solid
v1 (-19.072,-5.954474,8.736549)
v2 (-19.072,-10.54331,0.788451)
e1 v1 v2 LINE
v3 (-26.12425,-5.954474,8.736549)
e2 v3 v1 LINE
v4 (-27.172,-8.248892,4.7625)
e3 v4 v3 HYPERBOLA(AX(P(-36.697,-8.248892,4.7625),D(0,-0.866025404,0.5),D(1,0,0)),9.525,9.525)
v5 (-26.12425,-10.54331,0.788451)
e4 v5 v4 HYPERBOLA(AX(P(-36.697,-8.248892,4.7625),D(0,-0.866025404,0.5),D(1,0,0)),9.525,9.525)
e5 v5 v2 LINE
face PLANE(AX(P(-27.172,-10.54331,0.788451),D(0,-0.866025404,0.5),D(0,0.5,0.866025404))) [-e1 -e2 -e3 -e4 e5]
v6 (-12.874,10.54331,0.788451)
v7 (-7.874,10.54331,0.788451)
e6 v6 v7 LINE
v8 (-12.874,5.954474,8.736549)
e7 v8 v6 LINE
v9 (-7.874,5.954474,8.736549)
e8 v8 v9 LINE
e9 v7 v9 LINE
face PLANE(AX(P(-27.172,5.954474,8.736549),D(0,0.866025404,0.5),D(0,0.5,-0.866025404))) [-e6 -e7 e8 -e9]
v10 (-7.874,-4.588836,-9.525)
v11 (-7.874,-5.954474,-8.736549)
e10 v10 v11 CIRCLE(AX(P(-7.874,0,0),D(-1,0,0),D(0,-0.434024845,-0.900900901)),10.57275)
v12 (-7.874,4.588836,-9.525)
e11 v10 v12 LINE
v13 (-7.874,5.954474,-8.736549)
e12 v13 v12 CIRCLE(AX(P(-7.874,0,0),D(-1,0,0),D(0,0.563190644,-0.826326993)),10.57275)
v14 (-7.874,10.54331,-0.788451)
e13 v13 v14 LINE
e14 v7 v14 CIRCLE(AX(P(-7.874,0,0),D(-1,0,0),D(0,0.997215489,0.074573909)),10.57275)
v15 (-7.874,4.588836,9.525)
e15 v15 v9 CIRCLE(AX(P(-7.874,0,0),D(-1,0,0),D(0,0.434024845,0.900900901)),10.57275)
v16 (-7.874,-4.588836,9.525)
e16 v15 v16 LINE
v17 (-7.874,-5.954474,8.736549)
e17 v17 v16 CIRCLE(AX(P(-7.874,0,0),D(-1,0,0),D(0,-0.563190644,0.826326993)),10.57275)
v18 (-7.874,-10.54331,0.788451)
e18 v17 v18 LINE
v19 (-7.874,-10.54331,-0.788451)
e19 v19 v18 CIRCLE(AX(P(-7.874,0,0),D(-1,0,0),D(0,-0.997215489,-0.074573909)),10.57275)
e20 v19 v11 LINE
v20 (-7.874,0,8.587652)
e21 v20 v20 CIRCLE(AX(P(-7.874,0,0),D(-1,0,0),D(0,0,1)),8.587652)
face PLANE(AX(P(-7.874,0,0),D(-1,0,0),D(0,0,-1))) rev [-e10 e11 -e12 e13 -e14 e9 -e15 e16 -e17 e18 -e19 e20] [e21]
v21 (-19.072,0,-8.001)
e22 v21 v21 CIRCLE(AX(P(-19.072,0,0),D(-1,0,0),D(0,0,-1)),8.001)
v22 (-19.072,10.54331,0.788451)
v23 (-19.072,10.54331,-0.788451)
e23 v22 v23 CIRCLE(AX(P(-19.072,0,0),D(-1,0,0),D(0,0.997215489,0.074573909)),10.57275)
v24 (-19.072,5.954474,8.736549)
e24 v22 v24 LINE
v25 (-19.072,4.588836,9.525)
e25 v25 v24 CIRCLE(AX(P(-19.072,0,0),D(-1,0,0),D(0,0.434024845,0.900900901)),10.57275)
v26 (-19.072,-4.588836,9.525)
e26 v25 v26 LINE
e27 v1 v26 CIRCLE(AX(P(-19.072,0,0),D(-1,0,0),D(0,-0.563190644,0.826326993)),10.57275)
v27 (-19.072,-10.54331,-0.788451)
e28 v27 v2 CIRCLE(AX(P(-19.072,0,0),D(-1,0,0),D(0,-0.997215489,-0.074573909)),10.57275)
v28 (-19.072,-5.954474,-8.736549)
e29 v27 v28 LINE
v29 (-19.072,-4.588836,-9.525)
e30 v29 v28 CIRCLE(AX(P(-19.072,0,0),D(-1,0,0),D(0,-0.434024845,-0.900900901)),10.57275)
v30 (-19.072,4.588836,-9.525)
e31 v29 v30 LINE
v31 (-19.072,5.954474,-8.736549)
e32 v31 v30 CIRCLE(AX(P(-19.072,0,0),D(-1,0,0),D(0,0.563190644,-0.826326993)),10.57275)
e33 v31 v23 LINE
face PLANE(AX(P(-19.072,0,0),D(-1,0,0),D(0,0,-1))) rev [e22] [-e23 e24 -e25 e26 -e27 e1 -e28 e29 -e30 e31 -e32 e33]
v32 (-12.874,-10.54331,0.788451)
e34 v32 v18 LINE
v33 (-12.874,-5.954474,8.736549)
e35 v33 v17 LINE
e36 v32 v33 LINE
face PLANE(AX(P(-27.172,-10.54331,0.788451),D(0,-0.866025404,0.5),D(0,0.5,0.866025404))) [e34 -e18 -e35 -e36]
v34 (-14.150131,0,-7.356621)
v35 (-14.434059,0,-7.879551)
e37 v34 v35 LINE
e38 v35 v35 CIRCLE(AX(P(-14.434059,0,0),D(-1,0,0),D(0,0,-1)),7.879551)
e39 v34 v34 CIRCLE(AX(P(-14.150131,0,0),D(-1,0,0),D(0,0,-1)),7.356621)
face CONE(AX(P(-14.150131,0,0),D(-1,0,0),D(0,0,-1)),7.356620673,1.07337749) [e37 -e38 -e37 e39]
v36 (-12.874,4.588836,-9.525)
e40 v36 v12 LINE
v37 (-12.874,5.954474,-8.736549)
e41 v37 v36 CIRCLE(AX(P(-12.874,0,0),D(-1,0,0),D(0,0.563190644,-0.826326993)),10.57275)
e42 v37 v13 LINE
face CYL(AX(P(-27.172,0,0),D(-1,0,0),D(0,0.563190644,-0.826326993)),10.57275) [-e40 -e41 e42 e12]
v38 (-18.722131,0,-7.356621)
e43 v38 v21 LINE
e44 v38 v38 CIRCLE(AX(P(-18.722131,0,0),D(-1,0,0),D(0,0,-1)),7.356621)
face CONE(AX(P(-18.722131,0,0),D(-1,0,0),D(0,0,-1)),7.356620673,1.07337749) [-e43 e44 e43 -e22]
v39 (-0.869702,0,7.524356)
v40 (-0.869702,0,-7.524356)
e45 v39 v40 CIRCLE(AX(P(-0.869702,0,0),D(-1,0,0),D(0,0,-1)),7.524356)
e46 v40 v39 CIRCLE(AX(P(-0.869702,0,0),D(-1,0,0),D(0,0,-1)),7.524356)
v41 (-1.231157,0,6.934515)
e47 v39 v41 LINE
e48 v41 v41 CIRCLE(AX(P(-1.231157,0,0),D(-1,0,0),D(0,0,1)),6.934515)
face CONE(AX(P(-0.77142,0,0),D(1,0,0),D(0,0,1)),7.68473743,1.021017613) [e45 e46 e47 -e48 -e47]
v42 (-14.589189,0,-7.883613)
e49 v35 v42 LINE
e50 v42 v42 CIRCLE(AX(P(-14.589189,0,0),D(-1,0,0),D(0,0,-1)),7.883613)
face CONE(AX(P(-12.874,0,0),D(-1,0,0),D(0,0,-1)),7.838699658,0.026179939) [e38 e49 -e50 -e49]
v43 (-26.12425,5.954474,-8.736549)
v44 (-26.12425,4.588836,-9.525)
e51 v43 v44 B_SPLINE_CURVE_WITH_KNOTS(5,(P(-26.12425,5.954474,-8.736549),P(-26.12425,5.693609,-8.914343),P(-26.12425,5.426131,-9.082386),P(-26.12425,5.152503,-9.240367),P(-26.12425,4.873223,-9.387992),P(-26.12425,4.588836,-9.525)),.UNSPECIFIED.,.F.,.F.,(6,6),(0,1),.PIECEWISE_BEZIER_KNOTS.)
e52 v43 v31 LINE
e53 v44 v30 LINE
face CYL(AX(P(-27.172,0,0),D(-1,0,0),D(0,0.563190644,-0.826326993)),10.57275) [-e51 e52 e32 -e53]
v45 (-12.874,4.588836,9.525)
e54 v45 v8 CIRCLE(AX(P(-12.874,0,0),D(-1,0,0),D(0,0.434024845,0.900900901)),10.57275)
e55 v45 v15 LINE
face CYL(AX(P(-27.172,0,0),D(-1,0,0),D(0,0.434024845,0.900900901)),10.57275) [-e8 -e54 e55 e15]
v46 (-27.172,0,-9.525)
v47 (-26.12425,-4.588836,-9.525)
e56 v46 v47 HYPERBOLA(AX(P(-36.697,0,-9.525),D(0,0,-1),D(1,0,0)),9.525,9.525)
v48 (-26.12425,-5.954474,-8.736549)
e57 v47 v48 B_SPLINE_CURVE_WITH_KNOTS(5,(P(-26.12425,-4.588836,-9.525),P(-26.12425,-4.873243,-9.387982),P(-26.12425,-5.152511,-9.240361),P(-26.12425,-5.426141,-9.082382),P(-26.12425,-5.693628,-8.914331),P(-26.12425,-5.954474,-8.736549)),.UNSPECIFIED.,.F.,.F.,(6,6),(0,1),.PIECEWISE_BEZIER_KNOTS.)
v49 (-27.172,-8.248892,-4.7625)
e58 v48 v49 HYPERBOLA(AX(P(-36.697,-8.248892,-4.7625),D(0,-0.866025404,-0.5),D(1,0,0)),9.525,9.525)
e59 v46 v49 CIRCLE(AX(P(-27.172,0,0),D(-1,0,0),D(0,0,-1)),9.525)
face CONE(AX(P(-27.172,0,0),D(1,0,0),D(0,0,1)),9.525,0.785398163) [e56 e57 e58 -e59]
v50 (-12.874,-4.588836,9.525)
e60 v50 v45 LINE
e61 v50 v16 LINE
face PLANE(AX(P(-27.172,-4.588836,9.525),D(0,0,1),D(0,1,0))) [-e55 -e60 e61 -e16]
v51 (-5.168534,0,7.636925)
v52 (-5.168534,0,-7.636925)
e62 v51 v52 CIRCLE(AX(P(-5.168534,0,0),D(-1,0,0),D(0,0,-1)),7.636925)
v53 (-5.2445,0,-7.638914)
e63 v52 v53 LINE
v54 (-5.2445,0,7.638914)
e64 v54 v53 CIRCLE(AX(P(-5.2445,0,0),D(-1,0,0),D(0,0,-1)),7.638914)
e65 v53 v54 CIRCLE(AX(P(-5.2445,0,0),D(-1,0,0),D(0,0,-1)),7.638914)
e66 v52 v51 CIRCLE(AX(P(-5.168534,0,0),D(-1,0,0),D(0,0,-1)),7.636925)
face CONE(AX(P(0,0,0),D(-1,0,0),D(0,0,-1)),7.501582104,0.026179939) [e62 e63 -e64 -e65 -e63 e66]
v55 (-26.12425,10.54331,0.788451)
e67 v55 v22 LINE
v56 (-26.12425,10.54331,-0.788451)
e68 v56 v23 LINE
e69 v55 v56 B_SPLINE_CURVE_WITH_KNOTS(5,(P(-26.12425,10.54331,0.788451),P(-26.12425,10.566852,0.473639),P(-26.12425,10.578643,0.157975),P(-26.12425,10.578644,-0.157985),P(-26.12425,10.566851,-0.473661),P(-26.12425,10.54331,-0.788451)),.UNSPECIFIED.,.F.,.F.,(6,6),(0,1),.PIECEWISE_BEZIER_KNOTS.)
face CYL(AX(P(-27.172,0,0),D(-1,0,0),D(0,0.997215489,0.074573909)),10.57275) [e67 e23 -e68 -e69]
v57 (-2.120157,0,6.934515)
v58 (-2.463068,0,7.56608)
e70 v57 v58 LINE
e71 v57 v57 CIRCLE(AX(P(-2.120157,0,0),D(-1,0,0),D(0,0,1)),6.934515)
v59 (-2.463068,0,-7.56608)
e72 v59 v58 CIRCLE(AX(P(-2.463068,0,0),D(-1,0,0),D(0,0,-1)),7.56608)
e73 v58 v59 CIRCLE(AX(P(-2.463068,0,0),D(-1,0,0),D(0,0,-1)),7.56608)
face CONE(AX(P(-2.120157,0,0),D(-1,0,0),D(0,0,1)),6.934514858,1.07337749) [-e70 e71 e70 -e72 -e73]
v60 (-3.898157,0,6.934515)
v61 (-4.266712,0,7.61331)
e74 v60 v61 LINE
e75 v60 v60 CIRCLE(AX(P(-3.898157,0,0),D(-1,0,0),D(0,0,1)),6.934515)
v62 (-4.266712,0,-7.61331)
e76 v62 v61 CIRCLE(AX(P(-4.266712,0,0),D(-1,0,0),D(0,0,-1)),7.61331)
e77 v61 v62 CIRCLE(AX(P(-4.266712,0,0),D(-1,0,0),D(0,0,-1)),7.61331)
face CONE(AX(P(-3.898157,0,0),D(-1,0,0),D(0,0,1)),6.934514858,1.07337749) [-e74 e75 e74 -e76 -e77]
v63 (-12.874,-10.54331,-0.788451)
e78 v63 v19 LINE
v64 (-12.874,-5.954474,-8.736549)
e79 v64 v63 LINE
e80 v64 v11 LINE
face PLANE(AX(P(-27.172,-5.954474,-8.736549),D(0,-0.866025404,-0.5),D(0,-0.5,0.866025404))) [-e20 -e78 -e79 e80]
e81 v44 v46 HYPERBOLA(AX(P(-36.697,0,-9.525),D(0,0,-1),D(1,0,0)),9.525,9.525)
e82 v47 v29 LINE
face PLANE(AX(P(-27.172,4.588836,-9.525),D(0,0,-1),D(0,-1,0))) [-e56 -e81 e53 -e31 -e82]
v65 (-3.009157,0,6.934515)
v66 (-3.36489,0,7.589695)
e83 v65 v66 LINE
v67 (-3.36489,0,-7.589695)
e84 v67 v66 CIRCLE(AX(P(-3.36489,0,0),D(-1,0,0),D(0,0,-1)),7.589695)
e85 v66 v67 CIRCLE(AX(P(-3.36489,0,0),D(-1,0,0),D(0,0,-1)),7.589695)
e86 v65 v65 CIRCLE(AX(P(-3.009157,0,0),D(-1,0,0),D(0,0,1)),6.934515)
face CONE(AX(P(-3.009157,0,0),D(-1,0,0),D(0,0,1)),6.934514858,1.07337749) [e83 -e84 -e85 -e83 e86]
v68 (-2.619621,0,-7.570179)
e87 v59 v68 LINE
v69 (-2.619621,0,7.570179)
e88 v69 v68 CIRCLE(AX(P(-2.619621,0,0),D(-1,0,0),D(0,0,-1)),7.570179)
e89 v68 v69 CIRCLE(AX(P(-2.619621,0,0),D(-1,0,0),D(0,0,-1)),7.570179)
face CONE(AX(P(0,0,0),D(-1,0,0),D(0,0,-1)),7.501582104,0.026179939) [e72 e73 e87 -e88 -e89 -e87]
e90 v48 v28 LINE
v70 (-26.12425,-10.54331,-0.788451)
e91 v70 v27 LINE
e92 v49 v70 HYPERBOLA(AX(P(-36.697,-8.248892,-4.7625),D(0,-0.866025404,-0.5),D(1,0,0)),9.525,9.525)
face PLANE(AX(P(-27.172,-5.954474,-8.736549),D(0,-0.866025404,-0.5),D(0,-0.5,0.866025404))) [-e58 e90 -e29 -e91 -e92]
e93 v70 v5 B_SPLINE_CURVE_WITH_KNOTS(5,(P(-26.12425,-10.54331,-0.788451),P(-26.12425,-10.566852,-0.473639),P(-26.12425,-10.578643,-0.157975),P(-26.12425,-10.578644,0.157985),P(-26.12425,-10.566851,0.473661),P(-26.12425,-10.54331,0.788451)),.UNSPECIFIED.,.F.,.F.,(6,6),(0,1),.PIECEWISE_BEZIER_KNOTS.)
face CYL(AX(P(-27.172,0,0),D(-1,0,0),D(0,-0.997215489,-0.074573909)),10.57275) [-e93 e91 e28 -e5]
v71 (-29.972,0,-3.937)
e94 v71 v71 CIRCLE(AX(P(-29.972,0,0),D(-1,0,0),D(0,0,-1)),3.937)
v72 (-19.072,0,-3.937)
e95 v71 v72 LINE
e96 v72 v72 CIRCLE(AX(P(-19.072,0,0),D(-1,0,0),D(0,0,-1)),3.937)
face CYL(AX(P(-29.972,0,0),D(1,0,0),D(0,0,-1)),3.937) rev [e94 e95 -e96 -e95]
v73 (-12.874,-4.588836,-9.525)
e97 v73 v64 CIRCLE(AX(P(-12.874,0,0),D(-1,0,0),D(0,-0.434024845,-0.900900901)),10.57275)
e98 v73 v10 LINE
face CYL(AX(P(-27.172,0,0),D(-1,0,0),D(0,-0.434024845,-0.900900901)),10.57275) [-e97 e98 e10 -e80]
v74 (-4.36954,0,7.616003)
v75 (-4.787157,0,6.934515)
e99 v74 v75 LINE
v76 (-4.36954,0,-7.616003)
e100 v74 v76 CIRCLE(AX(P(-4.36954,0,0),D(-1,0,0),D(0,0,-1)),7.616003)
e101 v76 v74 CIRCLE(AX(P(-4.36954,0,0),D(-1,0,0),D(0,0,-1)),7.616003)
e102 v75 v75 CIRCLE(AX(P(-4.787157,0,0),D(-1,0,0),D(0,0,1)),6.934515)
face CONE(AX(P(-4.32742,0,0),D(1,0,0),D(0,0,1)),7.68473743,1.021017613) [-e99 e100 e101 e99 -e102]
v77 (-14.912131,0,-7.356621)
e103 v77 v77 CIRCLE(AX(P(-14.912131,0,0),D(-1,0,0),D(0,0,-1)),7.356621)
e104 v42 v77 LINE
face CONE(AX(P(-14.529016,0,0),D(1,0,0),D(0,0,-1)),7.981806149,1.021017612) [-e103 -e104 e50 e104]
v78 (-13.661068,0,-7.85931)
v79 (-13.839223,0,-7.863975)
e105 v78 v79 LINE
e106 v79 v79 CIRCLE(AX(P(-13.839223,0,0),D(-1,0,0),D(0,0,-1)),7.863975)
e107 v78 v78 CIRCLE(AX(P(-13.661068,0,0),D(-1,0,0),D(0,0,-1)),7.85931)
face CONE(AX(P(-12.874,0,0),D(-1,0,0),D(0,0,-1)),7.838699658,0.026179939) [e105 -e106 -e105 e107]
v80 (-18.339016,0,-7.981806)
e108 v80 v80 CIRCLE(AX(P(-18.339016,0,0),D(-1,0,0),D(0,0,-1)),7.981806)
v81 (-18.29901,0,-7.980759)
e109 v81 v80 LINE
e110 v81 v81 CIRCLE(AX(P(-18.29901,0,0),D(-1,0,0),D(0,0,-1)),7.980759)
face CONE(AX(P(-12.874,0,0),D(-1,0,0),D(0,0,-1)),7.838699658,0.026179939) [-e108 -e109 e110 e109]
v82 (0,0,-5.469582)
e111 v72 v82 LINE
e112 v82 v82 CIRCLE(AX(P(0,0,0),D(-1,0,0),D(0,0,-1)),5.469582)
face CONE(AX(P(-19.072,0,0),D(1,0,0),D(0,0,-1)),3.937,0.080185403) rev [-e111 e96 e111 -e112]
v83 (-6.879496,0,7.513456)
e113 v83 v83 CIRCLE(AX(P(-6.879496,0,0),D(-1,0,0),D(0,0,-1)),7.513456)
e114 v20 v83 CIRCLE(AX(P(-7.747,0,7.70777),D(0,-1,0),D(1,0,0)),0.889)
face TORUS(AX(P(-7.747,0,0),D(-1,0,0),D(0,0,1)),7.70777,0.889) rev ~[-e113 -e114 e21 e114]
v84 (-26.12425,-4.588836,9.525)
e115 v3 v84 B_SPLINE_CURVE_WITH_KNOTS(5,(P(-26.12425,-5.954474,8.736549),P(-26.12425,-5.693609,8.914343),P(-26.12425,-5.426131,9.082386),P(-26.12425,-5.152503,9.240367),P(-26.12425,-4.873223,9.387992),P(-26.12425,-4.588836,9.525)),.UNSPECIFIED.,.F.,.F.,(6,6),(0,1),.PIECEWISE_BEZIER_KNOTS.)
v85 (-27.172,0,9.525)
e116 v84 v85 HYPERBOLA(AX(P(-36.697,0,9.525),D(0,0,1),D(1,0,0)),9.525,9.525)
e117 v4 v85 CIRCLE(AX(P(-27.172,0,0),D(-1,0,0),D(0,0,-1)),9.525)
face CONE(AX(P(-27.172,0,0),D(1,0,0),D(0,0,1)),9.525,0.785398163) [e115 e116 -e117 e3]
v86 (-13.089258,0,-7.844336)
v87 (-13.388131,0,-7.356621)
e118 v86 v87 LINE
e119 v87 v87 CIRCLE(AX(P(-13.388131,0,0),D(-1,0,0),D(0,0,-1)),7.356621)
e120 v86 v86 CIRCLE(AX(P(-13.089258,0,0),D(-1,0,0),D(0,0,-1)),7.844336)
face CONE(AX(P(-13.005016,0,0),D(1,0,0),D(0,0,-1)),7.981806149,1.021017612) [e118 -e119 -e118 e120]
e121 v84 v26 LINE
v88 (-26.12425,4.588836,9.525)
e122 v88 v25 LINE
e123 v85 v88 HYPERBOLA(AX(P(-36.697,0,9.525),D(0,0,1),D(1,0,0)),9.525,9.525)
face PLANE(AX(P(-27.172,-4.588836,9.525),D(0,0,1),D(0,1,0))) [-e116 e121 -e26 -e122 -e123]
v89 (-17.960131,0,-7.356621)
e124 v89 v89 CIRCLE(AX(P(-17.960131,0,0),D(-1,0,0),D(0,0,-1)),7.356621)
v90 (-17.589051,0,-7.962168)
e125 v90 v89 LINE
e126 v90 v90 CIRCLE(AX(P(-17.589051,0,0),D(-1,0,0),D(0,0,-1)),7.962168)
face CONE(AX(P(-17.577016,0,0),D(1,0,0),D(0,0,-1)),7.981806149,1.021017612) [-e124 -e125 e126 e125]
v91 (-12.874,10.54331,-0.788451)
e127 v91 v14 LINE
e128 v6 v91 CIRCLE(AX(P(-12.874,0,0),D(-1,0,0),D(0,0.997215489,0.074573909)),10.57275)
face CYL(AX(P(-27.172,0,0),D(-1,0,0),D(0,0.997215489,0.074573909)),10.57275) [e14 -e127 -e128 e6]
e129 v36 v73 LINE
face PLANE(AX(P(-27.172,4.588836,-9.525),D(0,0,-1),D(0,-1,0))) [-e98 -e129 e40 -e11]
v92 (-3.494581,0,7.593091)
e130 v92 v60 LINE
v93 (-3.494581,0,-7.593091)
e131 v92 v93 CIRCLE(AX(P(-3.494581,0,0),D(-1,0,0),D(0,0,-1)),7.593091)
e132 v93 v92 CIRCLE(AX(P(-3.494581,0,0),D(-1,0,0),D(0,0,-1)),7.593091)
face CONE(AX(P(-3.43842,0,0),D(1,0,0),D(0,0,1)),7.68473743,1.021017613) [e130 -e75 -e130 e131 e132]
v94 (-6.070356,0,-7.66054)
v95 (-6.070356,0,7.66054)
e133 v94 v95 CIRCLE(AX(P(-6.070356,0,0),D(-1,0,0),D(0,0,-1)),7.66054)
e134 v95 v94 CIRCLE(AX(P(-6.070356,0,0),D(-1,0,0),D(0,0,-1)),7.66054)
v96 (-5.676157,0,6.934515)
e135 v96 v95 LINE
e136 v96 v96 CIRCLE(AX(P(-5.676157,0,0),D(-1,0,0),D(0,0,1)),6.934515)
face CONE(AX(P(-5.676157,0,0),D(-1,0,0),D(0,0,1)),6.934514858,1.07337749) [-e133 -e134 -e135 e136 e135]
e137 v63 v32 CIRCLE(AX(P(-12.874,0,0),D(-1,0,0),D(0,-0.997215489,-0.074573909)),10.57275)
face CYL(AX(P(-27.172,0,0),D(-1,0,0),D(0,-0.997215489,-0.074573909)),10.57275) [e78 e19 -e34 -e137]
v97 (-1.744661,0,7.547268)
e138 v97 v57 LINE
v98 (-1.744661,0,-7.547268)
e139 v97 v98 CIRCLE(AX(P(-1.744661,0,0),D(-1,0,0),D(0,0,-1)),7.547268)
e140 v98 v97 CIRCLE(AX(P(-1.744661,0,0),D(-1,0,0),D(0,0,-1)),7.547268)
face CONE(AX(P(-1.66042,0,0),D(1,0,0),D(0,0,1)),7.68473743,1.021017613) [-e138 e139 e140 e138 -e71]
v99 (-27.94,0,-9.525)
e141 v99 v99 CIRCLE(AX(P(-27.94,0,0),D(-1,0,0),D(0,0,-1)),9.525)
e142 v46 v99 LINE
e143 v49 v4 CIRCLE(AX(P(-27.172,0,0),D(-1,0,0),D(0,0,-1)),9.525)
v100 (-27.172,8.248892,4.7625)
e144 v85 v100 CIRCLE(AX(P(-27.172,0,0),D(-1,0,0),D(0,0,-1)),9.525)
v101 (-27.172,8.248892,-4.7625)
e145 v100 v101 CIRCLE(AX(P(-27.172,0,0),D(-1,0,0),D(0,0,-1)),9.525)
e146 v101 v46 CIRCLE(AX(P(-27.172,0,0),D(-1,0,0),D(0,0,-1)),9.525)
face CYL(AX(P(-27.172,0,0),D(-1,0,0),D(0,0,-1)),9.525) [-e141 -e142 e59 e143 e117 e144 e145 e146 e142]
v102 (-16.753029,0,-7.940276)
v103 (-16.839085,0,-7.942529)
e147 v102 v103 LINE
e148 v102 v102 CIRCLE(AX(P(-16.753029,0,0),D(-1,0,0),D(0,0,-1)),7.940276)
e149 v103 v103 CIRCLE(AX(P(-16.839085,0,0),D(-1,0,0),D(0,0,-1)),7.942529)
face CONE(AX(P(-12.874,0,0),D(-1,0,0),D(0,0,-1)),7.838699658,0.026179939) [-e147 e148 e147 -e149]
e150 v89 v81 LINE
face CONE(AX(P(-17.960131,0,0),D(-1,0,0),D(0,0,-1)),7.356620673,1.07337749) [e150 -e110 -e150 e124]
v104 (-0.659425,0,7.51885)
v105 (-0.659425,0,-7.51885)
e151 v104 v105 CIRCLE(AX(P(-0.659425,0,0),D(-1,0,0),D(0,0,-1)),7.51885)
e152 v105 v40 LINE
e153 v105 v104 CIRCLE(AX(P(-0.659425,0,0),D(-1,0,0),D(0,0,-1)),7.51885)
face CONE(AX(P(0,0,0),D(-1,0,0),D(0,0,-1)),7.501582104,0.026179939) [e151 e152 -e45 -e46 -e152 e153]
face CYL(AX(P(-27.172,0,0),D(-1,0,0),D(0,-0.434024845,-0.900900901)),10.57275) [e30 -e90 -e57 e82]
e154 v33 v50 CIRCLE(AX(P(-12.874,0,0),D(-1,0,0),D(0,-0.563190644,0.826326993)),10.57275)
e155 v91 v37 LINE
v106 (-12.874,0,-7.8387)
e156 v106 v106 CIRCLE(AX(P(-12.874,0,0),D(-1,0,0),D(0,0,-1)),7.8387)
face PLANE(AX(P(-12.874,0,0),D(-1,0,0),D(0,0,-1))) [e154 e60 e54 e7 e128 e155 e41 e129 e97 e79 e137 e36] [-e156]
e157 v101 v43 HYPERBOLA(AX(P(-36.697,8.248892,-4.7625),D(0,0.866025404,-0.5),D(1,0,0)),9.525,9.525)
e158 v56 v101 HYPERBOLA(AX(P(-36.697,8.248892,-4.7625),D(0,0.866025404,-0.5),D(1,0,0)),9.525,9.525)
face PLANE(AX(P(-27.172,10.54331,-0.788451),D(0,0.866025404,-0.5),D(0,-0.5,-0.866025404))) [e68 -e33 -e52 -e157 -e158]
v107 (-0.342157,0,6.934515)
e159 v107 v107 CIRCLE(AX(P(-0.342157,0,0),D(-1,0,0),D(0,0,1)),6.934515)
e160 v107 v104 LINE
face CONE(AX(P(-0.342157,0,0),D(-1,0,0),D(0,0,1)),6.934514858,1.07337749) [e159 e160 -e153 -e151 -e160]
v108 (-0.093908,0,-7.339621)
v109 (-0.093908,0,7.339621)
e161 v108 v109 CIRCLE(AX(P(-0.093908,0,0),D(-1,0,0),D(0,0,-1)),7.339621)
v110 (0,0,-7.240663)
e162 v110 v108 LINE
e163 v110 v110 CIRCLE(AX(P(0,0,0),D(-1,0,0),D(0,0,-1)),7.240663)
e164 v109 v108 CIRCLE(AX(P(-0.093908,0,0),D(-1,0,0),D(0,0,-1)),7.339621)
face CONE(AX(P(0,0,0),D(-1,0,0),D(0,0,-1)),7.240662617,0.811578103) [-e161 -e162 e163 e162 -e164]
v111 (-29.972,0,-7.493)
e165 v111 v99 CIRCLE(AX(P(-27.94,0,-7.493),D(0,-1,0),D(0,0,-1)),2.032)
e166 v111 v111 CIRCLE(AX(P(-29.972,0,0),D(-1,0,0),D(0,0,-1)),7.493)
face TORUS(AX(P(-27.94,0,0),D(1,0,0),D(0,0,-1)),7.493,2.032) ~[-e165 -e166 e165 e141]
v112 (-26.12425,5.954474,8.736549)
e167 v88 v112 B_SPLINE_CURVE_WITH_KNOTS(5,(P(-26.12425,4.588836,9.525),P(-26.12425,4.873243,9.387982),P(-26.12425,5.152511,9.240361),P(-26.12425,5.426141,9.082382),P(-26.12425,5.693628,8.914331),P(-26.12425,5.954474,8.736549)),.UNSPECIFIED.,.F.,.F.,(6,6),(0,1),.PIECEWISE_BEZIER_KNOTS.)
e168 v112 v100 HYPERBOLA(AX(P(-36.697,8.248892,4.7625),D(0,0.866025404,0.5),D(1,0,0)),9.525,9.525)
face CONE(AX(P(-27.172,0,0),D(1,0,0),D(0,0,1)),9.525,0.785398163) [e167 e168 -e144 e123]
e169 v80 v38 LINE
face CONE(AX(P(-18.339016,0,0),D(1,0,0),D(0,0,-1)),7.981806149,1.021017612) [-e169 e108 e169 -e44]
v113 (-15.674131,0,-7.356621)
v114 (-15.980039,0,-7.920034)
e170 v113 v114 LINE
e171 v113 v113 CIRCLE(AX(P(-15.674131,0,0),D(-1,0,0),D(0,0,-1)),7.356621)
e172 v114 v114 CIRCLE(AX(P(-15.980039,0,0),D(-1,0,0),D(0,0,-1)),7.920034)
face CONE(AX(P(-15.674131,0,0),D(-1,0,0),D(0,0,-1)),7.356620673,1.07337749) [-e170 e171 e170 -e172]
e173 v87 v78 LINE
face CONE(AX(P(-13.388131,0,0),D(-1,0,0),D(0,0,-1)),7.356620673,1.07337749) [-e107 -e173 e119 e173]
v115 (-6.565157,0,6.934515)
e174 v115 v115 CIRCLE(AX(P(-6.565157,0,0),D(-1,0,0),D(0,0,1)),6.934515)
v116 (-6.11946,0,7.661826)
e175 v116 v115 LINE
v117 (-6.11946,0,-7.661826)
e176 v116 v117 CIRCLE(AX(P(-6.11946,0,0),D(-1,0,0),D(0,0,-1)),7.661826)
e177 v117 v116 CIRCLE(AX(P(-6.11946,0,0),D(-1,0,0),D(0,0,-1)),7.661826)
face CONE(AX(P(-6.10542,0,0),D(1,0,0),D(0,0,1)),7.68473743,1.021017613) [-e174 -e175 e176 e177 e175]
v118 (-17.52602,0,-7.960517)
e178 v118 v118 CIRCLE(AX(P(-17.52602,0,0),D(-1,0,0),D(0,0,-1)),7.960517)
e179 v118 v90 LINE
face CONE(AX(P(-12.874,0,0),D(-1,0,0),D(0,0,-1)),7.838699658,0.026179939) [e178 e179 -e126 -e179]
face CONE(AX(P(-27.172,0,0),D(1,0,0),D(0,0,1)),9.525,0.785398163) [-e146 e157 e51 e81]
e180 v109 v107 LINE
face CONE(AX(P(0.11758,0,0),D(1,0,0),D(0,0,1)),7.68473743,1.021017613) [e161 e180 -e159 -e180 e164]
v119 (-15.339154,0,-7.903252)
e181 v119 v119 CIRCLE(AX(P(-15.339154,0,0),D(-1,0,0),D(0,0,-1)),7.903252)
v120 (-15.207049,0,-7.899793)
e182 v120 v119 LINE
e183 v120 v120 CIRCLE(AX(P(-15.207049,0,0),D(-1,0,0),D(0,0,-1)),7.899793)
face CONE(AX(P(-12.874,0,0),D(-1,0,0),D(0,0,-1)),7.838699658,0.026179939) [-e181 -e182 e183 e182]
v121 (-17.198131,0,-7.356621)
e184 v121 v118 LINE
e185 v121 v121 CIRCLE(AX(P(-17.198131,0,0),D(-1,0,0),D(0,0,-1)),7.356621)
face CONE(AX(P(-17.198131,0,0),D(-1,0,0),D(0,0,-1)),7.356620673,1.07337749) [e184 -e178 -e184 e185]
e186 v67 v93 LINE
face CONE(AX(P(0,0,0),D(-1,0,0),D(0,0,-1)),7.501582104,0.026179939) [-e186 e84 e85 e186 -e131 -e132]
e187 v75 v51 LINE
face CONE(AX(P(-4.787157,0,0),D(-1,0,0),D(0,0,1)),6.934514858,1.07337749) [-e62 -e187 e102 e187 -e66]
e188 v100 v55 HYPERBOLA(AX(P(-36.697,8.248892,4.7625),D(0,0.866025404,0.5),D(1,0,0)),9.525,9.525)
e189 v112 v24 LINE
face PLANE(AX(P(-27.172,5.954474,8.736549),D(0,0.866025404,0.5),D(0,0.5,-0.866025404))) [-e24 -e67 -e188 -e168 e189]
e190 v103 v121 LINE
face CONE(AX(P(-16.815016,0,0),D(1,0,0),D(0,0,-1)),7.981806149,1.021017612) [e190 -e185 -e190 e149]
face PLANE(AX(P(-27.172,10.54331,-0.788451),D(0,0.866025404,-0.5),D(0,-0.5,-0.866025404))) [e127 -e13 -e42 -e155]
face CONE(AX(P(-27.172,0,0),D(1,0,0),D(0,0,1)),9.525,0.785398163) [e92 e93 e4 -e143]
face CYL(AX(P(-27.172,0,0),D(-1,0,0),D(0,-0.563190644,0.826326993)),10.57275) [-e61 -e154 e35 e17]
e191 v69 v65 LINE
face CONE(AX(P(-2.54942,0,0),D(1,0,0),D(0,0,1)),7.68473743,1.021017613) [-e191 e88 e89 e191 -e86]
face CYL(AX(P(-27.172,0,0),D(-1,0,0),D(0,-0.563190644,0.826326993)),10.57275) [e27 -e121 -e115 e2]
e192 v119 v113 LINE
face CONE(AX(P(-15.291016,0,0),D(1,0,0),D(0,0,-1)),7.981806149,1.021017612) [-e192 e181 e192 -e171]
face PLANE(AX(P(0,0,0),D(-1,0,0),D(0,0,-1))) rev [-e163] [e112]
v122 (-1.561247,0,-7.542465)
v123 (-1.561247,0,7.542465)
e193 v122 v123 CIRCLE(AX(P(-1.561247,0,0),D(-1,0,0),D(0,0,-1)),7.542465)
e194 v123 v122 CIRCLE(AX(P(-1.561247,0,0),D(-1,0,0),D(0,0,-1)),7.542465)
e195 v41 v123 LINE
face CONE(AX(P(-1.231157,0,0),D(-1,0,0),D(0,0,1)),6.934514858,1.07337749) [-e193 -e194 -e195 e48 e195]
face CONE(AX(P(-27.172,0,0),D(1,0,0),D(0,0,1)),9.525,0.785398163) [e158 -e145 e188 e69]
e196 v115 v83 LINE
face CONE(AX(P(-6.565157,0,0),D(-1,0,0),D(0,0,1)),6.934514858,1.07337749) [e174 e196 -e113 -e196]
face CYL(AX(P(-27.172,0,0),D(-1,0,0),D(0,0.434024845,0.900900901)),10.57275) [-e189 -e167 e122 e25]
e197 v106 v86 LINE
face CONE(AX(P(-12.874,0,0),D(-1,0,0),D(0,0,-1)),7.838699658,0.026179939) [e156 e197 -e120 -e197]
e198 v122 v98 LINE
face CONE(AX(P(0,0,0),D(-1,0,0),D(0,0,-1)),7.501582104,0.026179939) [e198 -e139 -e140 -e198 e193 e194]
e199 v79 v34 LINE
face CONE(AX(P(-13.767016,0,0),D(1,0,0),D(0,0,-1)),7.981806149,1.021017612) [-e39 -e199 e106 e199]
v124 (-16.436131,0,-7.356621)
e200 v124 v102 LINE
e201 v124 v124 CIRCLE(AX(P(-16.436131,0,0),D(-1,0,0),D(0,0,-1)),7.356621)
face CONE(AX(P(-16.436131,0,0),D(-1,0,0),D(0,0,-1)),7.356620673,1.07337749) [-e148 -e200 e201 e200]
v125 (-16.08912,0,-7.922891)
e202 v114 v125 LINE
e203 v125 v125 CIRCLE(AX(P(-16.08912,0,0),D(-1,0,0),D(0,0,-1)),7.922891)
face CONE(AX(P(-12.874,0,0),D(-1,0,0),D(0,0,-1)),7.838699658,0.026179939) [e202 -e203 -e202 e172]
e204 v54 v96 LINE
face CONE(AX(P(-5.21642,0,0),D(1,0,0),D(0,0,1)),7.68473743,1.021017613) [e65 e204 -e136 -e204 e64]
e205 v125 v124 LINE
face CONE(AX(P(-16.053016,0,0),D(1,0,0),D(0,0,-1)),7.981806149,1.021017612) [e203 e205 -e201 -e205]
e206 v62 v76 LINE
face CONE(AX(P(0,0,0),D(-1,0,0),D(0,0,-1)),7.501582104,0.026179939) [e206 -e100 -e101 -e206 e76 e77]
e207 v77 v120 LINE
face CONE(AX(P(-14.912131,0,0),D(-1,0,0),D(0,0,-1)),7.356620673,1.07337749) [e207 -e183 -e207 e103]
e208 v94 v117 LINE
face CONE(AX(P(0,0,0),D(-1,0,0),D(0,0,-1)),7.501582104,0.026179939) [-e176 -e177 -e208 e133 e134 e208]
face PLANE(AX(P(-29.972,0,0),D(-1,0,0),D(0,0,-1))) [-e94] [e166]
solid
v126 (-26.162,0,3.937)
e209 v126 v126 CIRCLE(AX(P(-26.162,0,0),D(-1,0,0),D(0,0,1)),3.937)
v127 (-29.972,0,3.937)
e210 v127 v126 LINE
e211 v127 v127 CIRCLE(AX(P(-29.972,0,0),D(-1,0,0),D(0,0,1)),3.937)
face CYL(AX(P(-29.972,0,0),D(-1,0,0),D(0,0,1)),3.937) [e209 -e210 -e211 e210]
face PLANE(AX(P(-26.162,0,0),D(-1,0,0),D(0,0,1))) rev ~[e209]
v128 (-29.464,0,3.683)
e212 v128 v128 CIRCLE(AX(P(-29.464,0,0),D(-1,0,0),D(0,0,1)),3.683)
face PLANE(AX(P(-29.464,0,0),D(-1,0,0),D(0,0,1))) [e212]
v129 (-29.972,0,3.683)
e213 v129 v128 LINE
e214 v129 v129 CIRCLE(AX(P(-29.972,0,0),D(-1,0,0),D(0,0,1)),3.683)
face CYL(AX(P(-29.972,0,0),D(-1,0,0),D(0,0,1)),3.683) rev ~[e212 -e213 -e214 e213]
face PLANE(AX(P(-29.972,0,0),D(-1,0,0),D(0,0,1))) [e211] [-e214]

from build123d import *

# Parameters (mm, degrees)
SKETCH12_OUTSIDE_W = 52.432
SKETCH12_OUTSIDE_H = 52.432
CUT_EXTRUDE2_DEPTH = 28.172
FILLET4_R          = 2.032
SKETCH19_OUTSIDE_W = 33.316
SKETCH19_OUTSIDE_H = 35.412
SKETCH19_OUTSIDE_R = 9.525
CUT_EXTRUDE3_DEPTH = 1.999996
CUT_EXTRUDE3_DRAFT = -45
CHAMFER1_SIZE      = 0.260919487
CHAMFER1_SIZE2     = 0.254
SKETCH21_R         = 3.937
PLUG_DEPTH         = 3.81
SKETCH22_R         = 3.683
CUT_EXTRUDE4_DEPTH = 0.508
LPATTERN1_COUNT    = 8
LPATTERN1_PITCH    = 0.762
LPATTERN2_COUNT    = 9
LPATTERN2_PITCH    = 0.889
SKETCH32_R         = 0.889


with BuildPart() as part:
    # Sketch10 → Revolve2 (revolve)
    with BuildSketch(Plane.XY, mode=Mode.PRIVATE) as revolve2_sk:
        Polygon((-29.972, 3.937), (-19.072, 3.937), (0, 5.469582104), (0, 7.501582104), (-7.874, 7.70777005), (-7.874, 19.05), (-12.874, 19.05), (-12.874, 7.838699658), (-19.072, 8.001), (-19.072, 19.05), (-27.172, 19.05), (-27.172, 9.525), (-29.972, 9.525), align=None)
    revolve(revolve2_sk.sketch.rotate(Axis((0, 0, 0), (-1, 0, 0)), 90), axis=Axis((0, 0, 0), (-1, 0, 0)))  # turned: the seam where the file's is

    # Sketch12 outside → Cut-Extrude2 (cut, through all)
    with BuildSketch(Plane.ZY.offset(27.172)):
        Rectangle(SKETCH12_OUTSIDE_W, SKETCH12_OUTSIDE_H)
        with BuildLine():
            Line((-0.788451287, 10.543310065), (-8.736548713, 5.954473877))
            ThreePointArc((-8.736548713, 5.954473877), (-9.156270088, 5.286375), (-9.525, 4.588836188))
            Line((-9.525, 4.588836188), (-9.525, -4.588836188))
            ThreePointArc((-9.525, -4.588836188), (-9.156270088, -5.286375), (-8.736548713, -5.954473877))
            Line((-8.736548713, -5.954473877), (-0.788451287, -10.543310065))
            ThreePointArc((-0.788451287, -10.543310065), (0, -10.57275), (0.788451287, -10.543310065))
            Line((0.788451287, -10.543310065), (8.736548713, -5.954473877))
            ThreePointArc((8.736548713, -5.954473877), (9.156270088, -5.286375), (9.525, -4.588836188))
            Line((9.525, -4.588836188), (9.525, 4.588836188))
            ThreePointArc((9.525, 4.588836188), (9.156270088, 5.286375), (8.736548713, 5.954473877))
            Line((8.736548713, 5.954473877), (0.788451287, 10.543310065))
            ThreePointArc((0.788451287, 10.543310065), (0, 10.57275), (-0.788451287, 10.543310065))
        make_face(mode=Mode.SUBTRACT)
    extrude(amount=-CUT_EXTRUDE2_DEPTH, mode=Mode.SUBTRACT)

    # Fillet4
    fillet4_edges = [part.edges().sort_by_distance(p)[0] for p in [
        (-29.972, 0, 9.525),
    ]]
    fillet(fillet4_edges, radius=FILLET4_R)


with BuildPart() as cut_extrude3_tool:
    # Sketch19 outside → Cut-Extrude3 (with draft: the straight prism first)
    with BuildSketch(Plane.ZY.offset(27.172)):
        Rectangle(SKETCH19_OUTSIDE_W, SKETCH19_OUTSIDE_H)
        Circle(SKETCH19_OUTSIDE_R, mode=Mode.SUBTRACT)
    extrude(amount=-CUT_EXTRUDE3_DEPTH)
    # Cut-Extrude3: the draft: its side faces are tilted about the plane it starts from
    cut_extrude3_sides = [cut_extrude3_tool.faces().sort_by_distance(p)[0] for p in [
        (-26.172002, -17.706, 0),
        (-26.172002, 0, 16.658),
        (-26.172002, 17.706, 0),
        (-26.172002, 0, -16.658),
        (-26.172002, 0, -9.525),
    ]]
    draft(cut_extrude3_sides, Plane.ZY.offset(27.172), CUT_EXTRUDE3_DRAFT)


with BuildPart() as part_1:
    add(part.part)

    # Cut-Extrude3: cut by cut_extrude3_tool
    add(cut_extrude3_tool.part, mode=Mode.SUBTRACT)

    # Chamfer1
    chamfer1_edges = [part_1.edges().sort_by_distance(p)[0] for p in [
        (0, 0, 7.501582104),
    ]]
    chamfer1_side = [part_1.faces().sort_by_distance(p)[0] for p in [
        (0, 0, 5.681758887),
    ]]
    chamfer(chamfer1_edges, length=CHAMFER1_SIZE, length2=CHAMFER1_SIZE2, reference=chamfer1_side[0])

    # Sketch29 → Cut-Revolve1 (revolve, cut)
    with BuildSketch(Plane.XY, mode=Mode.PRIVATE) as cut_revolve1_sk:
        Polygon((-19.072, 8.001), (-18.339016419, 7.981806149), (-18.722130572, 7.356620673), align=None)
    cut_revolve1 = revolve(cut_revolve1_sk.sketch.rotate(Axis((0, 0, 0), (-1, 0, 0)), 90), axis=Axis((0, 0, 0), (-1, 0, 0)), mode=Mode.SUBTRACT)  # turned: the seam where the file's is

    # LPattern1: Cut-Revolve1 ×8
    with Locations(*[(i * LPATTERN1_PITCH, 0, 0) for i in range(1, LPATTERN1_COUNT)]):
        add(cut_revolve1, mode=Mode.SUBTRACT)

    # Sketch30 → Cut-Revolve2 (revolve, cut)
    with BuildSketch(Plane.XY, mode=Mode.PRIVATE) as cut_revolve2_sk:
        Polygon((-7.874, 7.70777005), (-6.994419703, 7.68473743), (-7.454156686, 6.934514858), align=None)
    cut_revolve2 = revolve(cut_revolve2_sk.sketch.rotate(Axis((0, 0, 0), (-1, 0, 0)), 270), axis=Axis((0, 0, 0), (-1, 0, 0)), mode=Mode.SUBTRACT)  # turned: the seam where the file's is

    # LPattern2: Cut-Revolve2 ×9
    with Locations(*[(i * LPATTERN2_PITCH, 0, 0) for i in range(1, LPATTERN2_COUNT)]):
        add(cut_revolve2, mode=Mode.SUBTRACT)

    # Sketch32 → Cut-Revolve3 (revolve, cut)
    with BuildSketch(Plane.XY, mode=Mode.PRIVATE) as cut_revolve3_sk:
        with Locations((-7.747, 7.70777005)):
            Circle(SKETCH32_R)
    revolve(cut_revolve3_sk.sketch.rotate(Axis((0, 0, 0), (-1, 0, 0)), 270), axis=Axis((0, 0, 0), (-1, 0, 0)), mode=Mode.SUBTRACT)  # turned: the seam where the file's is


with BuildPart() as body_2:
    # Sketch21 → plug (new body)
    with BuildSketch(Plane.ZY.offset(29.972)):
        Circle(SKETCH21_R)
    extrude(amount=-PLUG_DEPTH)

    # Sketch22 → Cut-Extrude4 (cut)
    with BuildSketch(Plane.ZY.offset(29.972)):
        Circle(SKETCH22_R)
    extrude(amount=-CUT_EXTRUDE4_DEPTH, mode=Mode.SUBTRACT)


solid = Compound([part_1.part, body_2.part])
